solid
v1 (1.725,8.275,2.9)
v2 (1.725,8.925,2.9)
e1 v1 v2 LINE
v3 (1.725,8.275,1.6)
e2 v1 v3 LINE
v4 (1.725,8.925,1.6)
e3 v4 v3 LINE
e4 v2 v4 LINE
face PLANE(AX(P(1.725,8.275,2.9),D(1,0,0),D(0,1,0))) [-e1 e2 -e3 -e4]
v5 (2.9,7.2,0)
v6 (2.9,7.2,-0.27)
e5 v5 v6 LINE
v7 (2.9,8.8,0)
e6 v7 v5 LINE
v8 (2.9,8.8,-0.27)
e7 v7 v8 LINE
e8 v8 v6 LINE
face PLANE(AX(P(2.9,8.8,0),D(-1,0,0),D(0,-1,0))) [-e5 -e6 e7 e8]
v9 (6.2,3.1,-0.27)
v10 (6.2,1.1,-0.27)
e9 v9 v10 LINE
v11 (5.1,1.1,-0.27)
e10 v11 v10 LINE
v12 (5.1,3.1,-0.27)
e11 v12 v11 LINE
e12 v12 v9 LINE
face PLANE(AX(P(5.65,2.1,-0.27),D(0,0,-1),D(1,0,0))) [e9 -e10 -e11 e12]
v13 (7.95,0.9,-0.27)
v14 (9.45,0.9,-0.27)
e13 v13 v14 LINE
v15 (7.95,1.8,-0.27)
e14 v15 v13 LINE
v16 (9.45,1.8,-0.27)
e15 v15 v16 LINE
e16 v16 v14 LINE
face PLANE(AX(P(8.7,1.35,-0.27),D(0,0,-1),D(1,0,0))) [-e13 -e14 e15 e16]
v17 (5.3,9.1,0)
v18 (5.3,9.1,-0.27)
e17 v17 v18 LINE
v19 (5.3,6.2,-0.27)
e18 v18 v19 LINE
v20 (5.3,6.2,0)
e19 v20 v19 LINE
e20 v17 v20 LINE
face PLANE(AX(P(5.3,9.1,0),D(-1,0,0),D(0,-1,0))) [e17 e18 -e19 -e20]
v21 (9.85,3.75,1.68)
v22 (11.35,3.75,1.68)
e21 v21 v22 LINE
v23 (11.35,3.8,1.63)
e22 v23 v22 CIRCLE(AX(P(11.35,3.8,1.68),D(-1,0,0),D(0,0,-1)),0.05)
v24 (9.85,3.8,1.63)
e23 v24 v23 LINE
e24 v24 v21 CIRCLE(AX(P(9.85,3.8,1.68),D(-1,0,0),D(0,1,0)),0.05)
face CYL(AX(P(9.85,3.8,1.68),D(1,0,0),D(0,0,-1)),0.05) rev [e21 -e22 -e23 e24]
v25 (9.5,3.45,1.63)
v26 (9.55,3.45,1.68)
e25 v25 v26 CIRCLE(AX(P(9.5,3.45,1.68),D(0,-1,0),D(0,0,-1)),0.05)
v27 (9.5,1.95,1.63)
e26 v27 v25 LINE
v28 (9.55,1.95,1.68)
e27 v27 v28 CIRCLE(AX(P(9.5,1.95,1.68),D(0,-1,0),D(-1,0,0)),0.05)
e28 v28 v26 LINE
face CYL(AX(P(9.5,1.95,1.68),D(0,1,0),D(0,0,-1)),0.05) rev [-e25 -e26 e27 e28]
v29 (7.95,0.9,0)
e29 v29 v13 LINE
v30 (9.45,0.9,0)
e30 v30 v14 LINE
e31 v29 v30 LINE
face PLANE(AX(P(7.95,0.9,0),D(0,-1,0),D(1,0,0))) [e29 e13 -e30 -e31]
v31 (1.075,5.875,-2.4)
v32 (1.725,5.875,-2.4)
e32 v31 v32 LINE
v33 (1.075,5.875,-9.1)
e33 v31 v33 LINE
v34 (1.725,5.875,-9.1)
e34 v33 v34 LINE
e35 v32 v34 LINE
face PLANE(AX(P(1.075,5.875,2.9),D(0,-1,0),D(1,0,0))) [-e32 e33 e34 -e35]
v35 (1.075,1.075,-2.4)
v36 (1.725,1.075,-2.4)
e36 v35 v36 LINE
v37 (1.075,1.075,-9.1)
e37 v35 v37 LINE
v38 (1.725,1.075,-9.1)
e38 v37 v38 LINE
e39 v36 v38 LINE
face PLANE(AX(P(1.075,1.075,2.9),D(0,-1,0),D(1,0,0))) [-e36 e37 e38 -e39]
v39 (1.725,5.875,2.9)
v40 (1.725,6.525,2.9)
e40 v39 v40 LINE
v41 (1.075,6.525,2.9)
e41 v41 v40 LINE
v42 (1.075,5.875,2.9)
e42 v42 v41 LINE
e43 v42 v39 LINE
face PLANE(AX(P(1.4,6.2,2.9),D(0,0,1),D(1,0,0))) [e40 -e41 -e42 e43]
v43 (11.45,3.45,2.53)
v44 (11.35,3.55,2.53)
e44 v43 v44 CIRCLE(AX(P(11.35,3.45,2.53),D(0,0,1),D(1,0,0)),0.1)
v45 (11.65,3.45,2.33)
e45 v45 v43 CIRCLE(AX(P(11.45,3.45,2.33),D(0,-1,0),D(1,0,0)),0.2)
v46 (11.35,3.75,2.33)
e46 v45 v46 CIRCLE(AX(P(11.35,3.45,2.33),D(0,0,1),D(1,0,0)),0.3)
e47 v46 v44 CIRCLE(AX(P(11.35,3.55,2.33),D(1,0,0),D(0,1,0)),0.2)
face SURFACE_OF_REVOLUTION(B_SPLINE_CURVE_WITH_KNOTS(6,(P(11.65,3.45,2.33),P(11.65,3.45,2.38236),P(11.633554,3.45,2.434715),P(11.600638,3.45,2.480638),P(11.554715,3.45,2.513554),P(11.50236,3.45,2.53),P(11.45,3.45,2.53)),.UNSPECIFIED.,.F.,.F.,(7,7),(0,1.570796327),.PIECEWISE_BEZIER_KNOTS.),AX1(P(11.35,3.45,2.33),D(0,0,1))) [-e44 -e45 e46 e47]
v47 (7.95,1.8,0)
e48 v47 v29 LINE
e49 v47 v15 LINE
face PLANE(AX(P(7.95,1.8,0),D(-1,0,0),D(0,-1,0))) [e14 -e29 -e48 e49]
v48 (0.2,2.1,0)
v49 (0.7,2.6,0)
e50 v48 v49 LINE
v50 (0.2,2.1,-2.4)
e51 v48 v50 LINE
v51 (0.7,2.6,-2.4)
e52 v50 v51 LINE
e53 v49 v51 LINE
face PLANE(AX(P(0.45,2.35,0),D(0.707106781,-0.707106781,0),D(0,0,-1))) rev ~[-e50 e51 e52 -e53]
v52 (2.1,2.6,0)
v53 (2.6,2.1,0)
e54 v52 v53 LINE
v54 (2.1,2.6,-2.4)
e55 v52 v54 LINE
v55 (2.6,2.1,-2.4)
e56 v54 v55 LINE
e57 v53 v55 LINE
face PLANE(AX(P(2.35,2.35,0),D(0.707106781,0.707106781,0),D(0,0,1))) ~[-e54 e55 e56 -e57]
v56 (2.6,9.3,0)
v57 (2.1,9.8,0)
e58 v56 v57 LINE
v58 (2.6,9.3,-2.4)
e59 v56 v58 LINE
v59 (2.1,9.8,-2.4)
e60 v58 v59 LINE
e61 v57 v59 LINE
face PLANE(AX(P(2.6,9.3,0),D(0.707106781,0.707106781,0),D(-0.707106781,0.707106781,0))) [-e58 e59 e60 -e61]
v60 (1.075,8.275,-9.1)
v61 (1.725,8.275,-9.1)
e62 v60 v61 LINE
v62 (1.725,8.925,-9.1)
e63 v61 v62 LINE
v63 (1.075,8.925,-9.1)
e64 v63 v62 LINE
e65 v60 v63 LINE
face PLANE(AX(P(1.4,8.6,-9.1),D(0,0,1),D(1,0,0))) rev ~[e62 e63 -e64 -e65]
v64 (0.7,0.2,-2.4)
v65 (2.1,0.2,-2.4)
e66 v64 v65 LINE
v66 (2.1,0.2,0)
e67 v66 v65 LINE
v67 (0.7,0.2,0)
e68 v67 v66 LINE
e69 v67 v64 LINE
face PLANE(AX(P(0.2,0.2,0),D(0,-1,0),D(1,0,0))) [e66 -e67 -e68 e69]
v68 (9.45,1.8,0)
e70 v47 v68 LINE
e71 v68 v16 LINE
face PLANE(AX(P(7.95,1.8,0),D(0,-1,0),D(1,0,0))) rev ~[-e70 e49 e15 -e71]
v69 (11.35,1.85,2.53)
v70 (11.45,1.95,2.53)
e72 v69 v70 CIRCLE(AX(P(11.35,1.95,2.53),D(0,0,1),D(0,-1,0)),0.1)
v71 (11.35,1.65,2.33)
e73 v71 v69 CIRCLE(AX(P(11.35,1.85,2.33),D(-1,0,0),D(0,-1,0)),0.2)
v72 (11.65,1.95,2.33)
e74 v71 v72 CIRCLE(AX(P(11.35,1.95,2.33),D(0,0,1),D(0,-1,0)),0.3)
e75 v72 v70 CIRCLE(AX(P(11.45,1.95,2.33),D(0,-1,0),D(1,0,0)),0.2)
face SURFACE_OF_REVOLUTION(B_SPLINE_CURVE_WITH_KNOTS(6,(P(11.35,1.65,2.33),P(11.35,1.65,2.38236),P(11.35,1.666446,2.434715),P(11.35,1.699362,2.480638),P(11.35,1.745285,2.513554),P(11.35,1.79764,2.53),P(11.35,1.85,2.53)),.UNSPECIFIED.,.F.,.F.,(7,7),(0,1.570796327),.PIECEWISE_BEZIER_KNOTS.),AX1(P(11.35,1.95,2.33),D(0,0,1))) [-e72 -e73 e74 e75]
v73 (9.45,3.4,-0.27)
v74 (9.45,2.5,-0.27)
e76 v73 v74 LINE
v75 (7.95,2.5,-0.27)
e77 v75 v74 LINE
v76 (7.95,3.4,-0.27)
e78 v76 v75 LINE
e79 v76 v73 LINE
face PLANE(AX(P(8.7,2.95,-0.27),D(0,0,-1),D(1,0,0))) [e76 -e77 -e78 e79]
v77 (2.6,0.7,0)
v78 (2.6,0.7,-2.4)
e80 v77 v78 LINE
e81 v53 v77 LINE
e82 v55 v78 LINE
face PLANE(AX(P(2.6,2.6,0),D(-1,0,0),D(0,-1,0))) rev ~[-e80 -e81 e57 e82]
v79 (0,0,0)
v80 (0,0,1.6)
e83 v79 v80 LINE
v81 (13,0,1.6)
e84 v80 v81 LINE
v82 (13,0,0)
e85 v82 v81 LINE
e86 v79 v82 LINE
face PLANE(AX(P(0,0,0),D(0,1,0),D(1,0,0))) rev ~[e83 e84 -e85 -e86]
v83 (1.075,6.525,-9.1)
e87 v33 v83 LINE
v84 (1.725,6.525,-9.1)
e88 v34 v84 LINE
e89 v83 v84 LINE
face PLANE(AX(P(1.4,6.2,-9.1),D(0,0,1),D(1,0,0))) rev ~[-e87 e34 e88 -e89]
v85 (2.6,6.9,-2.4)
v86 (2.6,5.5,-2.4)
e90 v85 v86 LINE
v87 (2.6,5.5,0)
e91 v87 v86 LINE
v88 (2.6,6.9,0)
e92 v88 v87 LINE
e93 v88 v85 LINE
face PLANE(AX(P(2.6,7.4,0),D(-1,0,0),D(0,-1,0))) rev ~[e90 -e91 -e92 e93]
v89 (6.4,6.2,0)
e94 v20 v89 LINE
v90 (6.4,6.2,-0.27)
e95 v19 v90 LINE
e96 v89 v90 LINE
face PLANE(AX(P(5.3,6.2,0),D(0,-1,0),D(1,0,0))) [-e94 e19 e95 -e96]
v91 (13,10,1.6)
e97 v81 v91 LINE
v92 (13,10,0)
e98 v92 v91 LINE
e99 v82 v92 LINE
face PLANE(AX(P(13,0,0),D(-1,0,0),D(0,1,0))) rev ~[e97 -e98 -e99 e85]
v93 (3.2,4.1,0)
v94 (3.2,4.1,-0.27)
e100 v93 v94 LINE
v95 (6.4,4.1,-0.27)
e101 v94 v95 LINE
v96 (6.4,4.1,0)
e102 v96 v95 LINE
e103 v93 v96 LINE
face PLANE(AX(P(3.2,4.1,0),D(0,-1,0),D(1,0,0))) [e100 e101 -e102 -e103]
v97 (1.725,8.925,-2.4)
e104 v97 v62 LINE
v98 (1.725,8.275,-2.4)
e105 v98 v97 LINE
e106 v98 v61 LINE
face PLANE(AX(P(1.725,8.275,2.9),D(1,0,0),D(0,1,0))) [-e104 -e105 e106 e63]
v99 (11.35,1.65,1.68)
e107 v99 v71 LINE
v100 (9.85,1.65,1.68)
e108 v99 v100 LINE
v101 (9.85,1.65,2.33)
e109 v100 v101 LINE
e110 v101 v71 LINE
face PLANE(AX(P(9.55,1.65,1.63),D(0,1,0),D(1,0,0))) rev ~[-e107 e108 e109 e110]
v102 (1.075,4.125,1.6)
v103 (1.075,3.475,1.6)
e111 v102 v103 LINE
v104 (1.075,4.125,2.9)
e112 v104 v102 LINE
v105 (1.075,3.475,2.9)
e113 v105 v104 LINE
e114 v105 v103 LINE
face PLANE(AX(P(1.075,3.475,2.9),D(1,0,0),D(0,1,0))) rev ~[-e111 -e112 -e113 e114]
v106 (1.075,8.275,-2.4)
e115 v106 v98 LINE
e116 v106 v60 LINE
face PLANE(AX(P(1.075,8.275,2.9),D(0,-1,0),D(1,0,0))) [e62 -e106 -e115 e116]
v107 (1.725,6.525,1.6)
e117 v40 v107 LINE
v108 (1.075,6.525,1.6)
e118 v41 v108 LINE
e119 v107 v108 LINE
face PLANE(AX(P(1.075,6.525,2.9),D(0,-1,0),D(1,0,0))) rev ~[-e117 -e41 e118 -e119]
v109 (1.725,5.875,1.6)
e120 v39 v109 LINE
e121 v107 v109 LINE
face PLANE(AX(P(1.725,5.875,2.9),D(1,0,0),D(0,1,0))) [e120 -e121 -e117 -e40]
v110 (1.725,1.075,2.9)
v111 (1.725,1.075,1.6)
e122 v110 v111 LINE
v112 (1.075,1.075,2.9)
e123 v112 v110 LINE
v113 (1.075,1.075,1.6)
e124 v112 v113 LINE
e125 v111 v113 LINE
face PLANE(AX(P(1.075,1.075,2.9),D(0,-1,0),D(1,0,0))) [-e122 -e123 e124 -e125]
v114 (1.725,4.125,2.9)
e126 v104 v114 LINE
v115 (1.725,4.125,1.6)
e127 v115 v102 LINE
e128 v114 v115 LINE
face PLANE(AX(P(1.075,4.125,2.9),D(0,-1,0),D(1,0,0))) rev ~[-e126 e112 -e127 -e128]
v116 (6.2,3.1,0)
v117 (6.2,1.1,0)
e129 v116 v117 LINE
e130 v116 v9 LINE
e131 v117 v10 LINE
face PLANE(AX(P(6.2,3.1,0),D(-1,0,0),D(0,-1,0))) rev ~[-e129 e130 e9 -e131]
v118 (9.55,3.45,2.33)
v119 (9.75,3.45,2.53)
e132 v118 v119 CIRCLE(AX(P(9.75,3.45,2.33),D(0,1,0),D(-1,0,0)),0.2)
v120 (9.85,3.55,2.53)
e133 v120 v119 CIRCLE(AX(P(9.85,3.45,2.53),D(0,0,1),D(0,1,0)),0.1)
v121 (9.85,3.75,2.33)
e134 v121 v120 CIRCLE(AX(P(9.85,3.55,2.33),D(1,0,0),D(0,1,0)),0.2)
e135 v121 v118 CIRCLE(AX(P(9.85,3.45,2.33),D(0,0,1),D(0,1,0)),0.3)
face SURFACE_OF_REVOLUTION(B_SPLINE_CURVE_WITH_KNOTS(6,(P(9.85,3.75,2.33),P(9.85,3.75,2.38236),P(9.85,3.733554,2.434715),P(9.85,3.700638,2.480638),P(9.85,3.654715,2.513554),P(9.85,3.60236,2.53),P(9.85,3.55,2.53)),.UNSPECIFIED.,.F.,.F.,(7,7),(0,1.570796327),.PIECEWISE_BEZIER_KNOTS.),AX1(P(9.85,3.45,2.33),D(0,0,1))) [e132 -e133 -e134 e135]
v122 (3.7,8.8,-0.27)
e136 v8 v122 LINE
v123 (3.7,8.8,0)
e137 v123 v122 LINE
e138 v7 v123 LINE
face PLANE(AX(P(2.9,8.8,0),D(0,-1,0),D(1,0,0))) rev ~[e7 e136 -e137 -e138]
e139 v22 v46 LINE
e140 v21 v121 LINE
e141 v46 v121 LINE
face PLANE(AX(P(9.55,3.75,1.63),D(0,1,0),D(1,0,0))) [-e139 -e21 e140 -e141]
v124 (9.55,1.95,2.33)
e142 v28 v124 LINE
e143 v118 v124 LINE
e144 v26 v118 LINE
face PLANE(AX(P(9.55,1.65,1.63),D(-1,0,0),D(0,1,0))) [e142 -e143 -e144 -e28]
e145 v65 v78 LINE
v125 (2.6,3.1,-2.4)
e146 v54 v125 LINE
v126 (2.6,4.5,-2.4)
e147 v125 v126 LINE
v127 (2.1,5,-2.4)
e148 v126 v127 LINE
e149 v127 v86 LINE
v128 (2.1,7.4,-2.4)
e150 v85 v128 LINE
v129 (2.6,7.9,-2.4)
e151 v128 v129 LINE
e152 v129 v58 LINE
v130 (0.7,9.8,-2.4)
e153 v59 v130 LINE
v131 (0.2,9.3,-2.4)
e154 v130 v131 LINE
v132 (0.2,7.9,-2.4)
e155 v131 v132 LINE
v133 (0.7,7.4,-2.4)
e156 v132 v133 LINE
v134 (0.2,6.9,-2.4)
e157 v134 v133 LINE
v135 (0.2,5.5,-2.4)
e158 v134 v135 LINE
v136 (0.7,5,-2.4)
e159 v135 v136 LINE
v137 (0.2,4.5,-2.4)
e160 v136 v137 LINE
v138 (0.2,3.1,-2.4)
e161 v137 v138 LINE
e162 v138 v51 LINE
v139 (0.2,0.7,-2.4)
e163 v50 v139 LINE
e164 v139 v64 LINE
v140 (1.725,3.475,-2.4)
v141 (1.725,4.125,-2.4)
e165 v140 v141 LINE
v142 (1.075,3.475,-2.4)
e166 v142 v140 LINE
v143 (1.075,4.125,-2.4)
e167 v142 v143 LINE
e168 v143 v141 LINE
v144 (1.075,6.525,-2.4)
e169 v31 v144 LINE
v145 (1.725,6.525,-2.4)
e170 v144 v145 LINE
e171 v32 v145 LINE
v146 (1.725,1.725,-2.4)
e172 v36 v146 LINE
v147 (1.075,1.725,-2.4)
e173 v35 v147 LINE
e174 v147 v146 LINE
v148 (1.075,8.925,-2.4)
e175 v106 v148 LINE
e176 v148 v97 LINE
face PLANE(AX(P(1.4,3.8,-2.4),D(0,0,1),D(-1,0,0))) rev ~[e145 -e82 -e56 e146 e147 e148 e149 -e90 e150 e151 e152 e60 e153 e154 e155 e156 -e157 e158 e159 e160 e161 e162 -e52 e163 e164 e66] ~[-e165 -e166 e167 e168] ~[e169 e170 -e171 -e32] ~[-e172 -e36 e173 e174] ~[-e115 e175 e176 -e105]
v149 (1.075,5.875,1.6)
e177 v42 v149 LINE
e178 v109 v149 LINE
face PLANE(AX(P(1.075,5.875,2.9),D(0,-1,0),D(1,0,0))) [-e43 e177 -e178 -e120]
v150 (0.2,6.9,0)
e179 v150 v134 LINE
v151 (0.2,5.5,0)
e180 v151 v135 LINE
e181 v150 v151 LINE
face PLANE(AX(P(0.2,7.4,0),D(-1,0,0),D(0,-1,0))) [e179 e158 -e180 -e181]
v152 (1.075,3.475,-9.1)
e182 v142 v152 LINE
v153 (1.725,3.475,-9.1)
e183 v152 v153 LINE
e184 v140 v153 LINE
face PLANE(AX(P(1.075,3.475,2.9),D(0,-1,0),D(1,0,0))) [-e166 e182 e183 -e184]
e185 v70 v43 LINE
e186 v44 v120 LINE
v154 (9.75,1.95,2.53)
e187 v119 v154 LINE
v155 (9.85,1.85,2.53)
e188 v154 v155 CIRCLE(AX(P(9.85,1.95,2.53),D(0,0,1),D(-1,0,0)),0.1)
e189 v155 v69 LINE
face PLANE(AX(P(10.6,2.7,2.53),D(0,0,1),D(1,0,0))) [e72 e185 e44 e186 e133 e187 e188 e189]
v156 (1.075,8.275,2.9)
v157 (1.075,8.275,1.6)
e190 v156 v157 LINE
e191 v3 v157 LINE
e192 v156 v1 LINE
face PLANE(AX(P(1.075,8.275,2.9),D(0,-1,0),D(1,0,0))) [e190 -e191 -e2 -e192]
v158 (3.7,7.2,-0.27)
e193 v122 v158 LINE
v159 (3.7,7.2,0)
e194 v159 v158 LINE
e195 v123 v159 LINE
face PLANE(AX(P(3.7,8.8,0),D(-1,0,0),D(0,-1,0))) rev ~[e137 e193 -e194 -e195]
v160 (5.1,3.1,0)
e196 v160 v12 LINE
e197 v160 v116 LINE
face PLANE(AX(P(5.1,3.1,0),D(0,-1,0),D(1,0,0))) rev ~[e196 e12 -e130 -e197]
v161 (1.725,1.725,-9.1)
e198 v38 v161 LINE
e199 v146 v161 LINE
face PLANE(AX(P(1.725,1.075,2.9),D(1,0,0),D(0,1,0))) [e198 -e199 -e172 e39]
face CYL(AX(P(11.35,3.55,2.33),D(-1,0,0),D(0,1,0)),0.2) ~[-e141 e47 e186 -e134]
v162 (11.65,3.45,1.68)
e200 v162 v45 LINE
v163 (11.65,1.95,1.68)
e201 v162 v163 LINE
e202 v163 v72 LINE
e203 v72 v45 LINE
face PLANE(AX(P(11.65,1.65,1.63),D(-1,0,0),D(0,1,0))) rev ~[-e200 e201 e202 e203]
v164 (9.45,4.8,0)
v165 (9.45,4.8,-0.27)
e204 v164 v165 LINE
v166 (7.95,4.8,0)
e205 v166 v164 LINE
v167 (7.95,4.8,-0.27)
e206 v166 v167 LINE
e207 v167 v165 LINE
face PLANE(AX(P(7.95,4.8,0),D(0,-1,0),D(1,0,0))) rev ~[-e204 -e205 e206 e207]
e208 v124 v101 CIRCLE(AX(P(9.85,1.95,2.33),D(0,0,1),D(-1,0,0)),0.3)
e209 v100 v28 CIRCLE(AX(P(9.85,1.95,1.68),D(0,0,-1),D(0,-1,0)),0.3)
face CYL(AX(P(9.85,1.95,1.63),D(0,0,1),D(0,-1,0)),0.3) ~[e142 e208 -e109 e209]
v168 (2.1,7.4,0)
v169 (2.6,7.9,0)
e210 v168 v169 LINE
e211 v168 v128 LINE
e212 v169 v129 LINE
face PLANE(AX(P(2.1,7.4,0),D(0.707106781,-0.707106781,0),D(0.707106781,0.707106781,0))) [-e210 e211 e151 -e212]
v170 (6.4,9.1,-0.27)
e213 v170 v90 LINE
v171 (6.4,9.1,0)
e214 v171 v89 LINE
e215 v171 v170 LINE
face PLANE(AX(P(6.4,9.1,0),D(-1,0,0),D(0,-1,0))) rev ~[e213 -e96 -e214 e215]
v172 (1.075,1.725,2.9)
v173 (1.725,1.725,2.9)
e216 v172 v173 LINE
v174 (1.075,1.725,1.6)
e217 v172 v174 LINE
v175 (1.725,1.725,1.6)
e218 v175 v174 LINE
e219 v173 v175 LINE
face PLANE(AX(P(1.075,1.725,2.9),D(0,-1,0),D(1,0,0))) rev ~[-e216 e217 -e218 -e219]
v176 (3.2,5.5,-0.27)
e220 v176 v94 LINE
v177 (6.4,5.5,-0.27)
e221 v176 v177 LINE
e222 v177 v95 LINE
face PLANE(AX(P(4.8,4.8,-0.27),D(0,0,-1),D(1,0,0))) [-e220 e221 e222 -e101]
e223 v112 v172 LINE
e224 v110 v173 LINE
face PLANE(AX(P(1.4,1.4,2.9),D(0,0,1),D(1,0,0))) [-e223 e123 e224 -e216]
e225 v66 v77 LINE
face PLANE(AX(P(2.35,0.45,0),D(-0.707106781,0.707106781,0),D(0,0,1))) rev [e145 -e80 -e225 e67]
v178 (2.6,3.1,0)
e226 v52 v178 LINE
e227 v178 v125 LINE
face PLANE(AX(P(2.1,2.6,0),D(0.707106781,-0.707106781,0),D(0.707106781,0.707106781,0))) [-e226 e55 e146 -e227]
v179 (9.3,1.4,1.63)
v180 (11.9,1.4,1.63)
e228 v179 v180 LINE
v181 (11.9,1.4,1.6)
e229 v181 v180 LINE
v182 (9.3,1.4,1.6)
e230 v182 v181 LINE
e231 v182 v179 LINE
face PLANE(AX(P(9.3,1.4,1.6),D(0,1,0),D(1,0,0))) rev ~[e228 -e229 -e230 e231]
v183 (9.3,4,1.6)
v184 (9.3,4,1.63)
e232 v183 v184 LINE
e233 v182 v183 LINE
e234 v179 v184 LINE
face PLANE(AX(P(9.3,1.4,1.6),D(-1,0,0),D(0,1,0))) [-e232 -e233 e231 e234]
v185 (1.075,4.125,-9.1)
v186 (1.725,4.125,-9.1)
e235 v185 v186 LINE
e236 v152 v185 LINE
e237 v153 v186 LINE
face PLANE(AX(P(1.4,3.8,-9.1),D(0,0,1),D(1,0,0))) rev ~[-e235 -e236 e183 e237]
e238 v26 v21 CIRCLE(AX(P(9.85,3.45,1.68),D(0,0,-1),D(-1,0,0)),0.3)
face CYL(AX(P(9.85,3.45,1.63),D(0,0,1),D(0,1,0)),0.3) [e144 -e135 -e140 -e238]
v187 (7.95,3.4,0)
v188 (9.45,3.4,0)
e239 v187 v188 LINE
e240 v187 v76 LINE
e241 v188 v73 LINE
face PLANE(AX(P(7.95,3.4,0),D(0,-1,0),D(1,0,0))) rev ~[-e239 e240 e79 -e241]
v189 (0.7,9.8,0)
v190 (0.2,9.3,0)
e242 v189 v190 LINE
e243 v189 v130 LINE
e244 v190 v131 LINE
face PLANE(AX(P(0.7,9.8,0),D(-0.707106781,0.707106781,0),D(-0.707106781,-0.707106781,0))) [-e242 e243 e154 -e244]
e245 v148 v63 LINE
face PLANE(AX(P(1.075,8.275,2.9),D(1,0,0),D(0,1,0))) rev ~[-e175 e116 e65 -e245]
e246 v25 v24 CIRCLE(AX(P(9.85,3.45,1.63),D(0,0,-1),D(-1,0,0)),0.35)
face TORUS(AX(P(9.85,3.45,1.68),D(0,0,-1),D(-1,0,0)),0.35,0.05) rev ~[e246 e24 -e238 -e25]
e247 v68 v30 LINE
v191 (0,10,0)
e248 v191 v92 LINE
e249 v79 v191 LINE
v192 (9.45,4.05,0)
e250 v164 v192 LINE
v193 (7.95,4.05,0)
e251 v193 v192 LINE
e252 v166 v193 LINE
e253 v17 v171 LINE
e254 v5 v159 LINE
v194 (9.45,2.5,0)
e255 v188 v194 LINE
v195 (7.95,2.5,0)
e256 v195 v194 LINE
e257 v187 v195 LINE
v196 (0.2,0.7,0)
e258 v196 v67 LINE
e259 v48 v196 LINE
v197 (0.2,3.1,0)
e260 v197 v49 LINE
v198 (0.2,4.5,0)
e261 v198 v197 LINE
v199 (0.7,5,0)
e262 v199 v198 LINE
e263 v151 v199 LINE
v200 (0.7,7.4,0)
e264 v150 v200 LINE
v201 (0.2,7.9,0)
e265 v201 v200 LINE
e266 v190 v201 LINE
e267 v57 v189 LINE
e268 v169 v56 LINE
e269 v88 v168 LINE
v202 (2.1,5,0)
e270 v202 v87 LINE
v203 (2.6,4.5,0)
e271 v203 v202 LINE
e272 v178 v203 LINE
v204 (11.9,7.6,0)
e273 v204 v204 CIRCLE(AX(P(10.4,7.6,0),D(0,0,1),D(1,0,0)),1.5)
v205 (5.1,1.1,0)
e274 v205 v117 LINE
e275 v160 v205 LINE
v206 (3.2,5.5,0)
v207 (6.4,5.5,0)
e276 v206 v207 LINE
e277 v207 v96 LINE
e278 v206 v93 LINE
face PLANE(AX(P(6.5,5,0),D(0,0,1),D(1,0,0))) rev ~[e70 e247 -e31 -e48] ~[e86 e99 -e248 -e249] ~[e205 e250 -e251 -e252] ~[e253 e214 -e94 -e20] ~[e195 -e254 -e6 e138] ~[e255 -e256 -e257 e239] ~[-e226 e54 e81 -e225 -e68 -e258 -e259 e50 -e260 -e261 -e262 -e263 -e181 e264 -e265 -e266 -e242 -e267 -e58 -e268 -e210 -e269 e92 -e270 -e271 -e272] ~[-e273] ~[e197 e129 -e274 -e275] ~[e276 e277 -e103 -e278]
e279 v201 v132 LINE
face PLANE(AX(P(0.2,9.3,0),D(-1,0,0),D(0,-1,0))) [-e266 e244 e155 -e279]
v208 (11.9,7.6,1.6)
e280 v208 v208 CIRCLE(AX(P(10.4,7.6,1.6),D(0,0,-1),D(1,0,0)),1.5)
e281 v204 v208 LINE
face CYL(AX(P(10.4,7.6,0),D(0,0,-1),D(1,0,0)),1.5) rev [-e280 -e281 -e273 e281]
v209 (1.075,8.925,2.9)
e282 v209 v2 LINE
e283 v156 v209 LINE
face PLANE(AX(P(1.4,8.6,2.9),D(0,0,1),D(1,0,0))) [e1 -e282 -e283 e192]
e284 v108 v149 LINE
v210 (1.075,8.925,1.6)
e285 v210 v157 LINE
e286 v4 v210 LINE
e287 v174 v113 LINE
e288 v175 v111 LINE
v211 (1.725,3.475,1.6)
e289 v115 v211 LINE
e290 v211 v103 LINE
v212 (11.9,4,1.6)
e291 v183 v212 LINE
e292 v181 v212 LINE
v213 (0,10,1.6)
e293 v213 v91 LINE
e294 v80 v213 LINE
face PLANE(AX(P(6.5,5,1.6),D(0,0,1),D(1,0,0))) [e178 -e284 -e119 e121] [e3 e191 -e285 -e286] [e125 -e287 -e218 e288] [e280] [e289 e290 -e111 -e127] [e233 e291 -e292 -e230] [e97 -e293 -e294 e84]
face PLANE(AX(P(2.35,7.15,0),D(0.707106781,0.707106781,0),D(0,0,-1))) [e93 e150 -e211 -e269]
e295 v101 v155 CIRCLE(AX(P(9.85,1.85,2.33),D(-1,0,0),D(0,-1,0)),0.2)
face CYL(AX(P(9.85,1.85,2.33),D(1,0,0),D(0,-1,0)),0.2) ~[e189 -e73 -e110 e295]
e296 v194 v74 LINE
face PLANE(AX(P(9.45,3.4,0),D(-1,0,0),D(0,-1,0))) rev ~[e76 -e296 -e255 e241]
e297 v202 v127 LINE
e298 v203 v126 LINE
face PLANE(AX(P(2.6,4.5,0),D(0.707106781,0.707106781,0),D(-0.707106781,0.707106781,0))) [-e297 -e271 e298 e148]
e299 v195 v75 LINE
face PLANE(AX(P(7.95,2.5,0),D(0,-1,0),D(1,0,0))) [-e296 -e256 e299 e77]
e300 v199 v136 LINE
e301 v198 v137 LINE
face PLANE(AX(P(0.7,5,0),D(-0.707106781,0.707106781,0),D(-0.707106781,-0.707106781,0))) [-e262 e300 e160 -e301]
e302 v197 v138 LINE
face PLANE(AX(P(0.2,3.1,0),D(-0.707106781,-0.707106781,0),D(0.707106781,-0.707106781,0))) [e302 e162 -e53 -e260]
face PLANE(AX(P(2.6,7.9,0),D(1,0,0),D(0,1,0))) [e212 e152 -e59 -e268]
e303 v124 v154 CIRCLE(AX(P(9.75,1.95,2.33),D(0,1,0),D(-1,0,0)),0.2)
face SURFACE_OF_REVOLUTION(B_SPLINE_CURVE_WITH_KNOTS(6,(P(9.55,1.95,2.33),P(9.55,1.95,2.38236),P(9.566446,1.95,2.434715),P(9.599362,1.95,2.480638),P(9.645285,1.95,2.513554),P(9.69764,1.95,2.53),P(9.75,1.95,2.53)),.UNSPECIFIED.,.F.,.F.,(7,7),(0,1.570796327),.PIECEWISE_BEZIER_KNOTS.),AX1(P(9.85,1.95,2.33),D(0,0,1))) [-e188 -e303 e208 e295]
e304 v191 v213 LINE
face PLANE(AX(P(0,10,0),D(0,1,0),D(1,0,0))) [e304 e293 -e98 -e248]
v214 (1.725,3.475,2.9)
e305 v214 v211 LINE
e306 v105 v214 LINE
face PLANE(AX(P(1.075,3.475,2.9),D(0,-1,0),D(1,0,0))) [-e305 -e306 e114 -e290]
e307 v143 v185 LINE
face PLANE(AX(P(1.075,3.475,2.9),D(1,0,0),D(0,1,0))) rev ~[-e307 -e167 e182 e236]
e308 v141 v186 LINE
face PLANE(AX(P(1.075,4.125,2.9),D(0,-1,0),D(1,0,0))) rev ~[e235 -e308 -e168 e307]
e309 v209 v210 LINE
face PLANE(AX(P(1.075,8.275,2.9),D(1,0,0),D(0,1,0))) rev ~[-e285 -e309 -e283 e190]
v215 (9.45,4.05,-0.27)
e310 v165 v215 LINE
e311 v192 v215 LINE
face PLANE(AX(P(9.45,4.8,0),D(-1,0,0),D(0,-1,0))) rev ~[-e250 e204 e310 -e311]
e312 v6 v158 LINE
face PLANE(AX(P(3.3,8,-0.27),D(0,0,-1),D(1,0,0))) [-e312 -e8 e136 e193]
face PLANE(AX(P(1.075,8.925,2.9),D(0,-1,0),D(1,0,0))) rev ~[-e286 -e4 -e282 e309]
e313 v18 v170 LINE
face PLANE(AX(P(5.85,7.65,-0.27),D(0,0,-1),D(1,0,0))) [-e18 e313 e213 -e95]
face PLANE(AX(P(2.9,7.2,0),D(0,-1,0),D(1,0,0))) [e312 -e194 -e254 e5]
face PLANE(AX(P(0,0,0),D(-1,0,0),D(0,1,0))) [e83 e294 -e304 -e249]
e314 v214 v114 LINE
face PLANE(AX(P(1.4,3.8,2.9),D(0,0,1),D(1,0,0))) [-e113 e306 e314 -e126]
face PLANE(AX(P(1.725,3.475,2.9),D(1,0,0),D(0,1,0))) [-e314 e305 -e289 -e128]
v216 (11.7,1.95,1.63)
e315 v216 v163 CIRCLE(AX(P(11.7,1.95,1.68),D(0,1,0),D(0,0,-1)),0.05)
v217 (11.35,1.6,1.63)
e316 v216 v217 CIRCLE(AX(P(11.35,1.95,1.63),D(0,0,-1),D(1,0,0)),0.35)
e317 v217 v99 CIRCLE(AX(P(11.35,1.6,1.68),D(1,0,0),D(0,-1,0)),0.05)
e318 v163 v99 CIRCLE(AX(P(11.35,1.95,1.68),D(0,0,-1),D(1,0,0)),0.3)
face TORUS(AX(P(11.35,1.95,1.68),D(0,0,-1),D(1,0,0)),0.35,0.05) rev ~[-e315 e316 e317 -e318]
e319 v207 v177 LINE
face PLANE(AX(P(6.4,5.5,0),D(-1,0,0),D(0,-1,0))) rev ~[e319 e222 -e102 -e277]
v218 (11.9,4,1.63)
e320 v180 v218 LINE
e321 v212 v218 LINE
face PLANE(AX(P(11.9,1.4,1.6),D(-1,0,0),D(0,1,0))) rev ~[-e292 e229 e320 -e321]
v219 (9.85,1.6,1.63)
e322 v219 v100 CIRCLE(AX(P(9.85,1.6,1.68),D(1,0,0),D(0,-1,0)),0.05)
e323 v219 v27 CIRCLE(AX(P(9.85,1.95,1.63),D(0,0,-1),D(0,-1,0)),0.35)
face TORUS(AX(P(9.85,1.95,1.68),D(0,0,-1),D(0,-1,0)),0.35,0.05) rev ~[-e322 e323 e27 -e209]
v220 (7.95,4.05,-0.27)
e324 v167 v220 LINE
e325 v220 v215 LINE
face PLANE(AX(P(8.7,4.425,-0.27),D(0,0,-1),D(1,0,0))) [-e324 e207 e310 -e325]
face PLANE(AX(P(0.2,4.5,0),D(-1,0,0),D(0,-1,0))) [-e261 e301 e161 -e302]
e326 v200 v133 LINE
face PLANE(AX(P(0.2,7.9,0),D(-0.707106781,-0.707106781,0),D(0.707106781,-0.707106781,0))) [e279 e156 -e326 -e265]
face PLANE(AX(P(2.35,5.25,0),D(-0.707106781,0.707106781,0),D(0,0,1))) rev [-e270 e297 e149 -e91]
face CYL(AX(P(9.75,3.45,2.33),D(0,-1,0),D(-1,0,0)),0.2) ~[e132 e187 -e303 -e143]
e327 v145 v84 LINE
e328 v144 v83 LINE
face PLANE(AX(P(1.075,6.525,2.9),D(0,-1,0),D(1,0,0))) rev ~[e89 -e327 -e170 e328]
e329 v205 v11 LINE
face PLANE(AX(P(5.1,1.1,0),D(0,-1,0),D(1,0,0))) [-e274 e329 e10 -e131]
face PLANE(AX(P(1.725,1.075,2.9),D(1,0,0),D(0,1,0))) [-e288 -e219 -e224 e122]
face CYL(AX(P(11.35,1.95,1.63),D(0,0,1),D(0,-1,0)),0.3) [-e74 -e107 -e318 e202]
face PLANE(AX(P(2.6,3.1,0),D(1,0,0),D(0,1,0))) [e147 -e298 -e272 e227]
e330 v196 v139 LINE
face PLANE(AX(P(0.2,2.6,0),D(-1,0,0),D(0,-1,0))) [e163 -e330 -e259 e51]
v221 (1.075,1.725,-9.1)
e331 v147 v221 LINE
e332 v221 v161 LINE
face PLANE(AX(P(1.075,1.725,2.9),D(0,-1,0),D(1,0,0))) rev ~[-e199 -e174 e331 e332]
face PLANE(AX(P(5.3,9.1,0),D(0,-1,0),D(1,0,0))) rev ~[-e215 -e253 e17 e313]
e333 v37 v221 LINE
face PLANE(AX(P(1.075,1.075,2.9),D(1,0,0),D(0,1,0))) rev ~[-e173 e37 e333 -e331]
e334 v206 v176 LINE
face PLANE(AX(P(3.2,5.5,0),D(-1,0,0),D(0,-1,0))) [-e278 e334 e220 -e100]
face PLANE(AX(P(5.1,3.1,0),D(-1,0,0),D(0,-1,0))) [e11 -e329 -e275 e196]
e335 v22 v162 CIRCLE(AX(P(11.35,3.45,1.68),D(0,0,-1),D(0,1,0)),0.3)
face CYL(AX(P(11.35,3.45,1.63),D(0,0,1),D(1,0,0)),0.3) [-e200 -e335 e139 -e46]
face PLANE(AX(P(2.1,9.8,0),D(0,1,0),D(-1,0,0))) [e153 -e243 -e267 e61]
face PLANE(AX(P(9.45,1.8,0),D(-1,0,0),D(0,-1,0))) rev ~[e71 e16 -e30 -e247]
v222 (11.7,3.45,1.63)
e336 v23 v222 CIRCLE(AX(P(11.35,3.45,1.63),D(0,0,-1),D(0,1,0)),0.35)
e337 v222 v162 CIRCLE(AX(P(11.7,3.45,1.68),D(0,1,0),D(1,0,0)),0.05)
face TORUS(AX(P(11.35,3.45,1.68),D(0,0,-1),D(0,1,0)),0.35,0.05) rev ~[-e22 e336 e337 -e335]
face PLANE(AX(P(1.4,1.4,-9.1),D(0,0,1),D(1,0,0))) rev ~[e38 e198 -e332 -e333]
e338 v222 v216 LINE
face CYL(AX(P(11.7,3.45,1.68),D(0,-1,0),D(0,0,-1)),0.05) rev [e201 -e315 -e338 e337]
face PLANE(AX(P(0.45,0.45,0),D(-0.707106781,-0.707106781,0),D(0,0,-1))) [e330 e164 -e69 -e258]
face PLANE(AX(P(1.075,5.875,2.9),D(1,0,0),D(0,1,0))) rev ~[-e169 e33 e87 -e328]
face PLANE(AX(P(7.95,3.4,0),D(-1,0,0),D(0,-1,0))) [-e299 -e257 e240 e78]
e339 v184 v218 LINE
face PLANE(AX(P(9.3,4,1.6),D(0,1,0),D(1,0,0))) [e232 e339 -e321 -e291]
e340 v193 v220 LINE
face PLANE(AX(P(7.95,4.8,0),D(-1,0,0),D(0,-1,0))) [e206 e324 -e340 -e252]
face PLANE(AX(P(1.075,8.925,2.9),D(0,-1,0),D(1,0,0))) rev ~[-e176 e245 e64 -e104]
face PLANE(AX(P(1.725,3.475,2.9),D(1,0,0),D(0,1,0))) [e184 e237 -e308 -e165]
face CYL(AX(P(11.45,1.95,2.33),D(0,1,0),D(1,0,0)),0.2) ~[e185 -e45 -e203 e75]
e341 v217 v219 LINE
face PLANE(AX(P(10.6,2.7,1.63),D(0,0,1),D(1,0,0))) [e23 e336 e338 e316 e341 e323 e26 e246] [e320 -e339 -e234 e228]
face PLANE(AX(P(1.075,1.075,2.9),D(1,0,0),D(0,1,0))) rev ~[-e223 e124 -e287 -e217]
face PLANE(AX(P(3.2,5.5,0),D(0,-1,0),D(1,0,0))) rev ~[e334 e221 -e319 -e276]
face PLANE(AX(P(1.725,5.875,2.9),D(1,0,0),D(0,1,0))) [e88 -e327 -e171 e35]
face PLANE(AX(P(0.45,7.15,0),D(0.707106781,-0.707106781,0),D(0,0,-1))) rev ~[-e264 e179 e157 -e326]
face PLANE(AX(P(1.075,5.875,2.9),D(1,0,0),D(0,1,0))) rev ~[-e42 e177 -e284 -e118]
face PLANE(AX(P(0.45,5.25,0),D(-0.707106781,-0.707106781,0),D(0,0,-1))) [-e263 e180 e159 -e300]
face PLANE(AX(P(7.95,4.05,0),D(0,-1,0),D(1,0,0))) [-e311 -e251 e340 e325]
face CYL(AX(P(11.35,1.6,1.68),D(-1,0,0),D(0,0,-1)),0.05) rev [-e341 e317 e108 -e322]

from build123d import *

# Parameters (mm, degrees)
SKETCH_W      = 13
SKETCH_H      = 10
PAD_DEPTH     = 1.6
SKETCH001_R   = 1.5
SKETCH001_W   = 0.65
SKETCH001_H   = 0.65
POCKET_DEPTH  = 5
SKETCH002_W   = 2.6
SKETCH002_H   = 2.6
PAD001_DEPTH  = 0.03
SKETCH003_W   = 2.1
SKETCH003_H   = 2.1
PAD002_DEPTH  = 0.9
FILLET_R      = 0.3
FILLET001_R   = 0.05
FILLET002_R   = 0.2
SKETCH004_W   = 1.1
SKETCH004_H   = 2
SKETCH004_W_2 = 1.5
SKETCH004_H_2 = 0.9
SKETCH004_H_3 = 0.75
SKETCH004_H_4 = 2.9
SKETCH004_W_3 = 3.2
SKETCH004_H_5 = 1.4
SKETCH004_W_4 = 0.8
SKETCH004_H_6 = 1.6
PAD003_DEPTH  = 0.27
SKETCH005_W   = 2.4
SKETCH005_H   = 2.4
PAD004_DEPTH  = 2.4
CHAMFER_SIZE  = 0.5
PAD005_DEPTH  = 2.4
SKETCH007_W   = 0.65
SKETCH007_H   = 0.65
PAD006_DEPTH  = 12


with BuildPart() as part:
    # Sketch (on XY_Plane of Origin) → Pad (new body)
    with BuildSketch(Plane.XY):
        with Locations((6.5, 5)):
            Rectangle(SKETCH_W, SKETCH_H)
    extrude(amount=PAD_DEPTH)

    # Sketch001 (on XY_Plane of Origin) → Pocket (cut)
    with BuildSketch(Plane.XY):
        with Locations((10.4, 7.6)):
            Circle(SKETCH001_R)
        with Locations((1.4, 8.6)):
            Rectangle(SKETCH001_W, SKETCH001_H)
        with Locations((1.4, 6.2)):
            Rectangle(SKETCH001_W, SKETCH001_H)
        with Locations((1.4, 3.8)):
            Rectangle(SKETCH001_W, SKETCH001_H)
        with Locations((1.4, 1.4)):
            Rectangle(SKETCH001_W, SKETCH001_H)
    extrude(amount=POCKET_DEPTH, mode=Mode.SUBTRACT)

    # Sketch002 (on Face5 of Pocket) → Pad001 (join)
    with BuildSketch(Plane.XY.offset(1.6)):
        with Locations((10.6, 2.7)):
            Rectangle(SKETCH002_W, SKETCH002_H)
    extrude(amount=PAD001_DEPTH)

    # Sketch003 (on Face28 of Pad001) → Pad002 (join)
    with BuildSketch(Plane.XY.offset(1.63)):
        with Locations((10.6, 2.7)):
            Rectangle(SKETCH003_W, SKETCH003_H)
    extrude(amount=PAD002_DEPTH)

    # Fillet
    fillet_edges = [part.edges().sort_by_distance(p)[0] for p in [
        (9.55, 1.65, 2.08),
        (9.55, 3.75, 2.08),
        (11.65, 1.65, 2.08),
        (11.65, 3.75, 2.08),
    ]]
    fillet(fillet_edges, radius=FILLET_R)

    # Fillet001
    fillet001_edges = [part.edges().sort_by_distance(p)[0] for p in [
        (9.637868, 1.737868, 1.63),
    ]]
    fillet(fillet001_edges, radius=FILLET001_R)

    # Fillet002
    fillet002_edges = [part.edges().sort_by_distance(p)[0] for p in [
        (10.6, 1.65, 2.53),
    ]]
    fillet(fillet002_edges, radius=FILLET002_R)

    # Sketch004 (on Face53 of Fillet002) → Pad003 (join)
    with BuildSketch(Plane(origin=(0, 0, 0), x_dir=(1, 0, 0), z_dir=(0, 0, -1))):
        with Locations((5.65, -2.1)):
            Rectangle(SKETCH004_W, SKETCH004_H)
        with Locations((8.7, -1.35)):
            Rectangle(SKETCH004_W_2, SKETCH004_H_2)
        with Locations((8.7, -2.95)):
            Rectangle(SKETCH004_W_2, SKETCH004_H_2)
        with Locations((8.7, -4.425)):
            Rectangle(SKETCH004_W_2, SKETCH004_H_3)
        with Locations((5.85, -7.65)):
            Rectangle(SKETCH004_W, SKETCH004_H_4)
        with Locations((4.8, -4.8)):
            Rectangle(SKETCH004_W_3, SKETCH004_H_5)
        with Locations((3.3, -8)):
            Rectangle(SKETCH004_W_4, SKETCH004_H_6)
    extrude(amount=PAD003_DEPTH)

    # Sketch005 (on Face53 of Pad003) → Pad004 (join)
    with BuildSketch(Plane(origin=(0, 0, 0), x_dir=(1, 0, 0), z_dir=(0, 0, -1))):
        with Locations((1.4, -1.4)):
            Rectangle(SKETCH005_W, SKETCH005_H)
        with Locations((1.4, -6.2)):
            Rectangle(SKETCH005_W, SKETCH005_H)
    extrude(amount=PAD004_DEPTH)

    # Chamfer
    chamfer_edges = [part.edges().sort_by_distance(p)[0] for p in [
        (2.6, 5, -1.2),
        (0.2, 5, -1.2),
        (2.6, 7.4, -1.2),
        (2.6, 2.6, -1.2),
        (2.6, 0.2, -1.2),
        (0.2, 0.2, -1.2),
        (0.2, 7.4, -1.2),
        (0.2, 2.6, -1.2),
    ]]
    chamfer(chamfer_edges, length=CHAMFER_SIZE)

    # Sketch006 (on Face1 of Chamfer) → Pad005 (join)
    with BuildSketch(Plane(origin=(0, 0, 0), x_dir=(1, 0, 0), z_dir=(0, 0, -1))):
        Polygon((0.7, -2.6), (2.1, -2.6), (2.6, -3.1), (2.6, -4.5), (2.1, -5), (0.7, -5), (0.2, -4.5), (0.2, -3.1), align=None)
        Polygon((0.7, -7.4), (2.1, -7.4), (2.6, -7.9), (2.6, -9.3), (2.1, -9.8), (0.7, -9.8), (0.2, -9.3), (0.2, -7.9), align=None)
    extrude(amount=PAD005_DEPTH)

    # Sketch007 (on Face61 of Pad005) → Pad006 (join)
    with BuildSketch(Plane.XY.offset(2.9)):
        with Locations((1.4, 8.6)):
            Rectangle(SKETCH007_W, SKETCH007_H)
        with Locations((1.4, 6.2)):
            Rectangle(SKETCH007_W, SKETCH007_H)
        with Locations((1.4, 3.8)):
            Rectangle(SKETCH007_W, SKETCH007_H)
        with Locations((1.4, 1.4)):
            Rectangle(SKETCH007_W, SKETCH007_H)
    extrude(amount=-PAD006_DEPTH)


solid = part.part
